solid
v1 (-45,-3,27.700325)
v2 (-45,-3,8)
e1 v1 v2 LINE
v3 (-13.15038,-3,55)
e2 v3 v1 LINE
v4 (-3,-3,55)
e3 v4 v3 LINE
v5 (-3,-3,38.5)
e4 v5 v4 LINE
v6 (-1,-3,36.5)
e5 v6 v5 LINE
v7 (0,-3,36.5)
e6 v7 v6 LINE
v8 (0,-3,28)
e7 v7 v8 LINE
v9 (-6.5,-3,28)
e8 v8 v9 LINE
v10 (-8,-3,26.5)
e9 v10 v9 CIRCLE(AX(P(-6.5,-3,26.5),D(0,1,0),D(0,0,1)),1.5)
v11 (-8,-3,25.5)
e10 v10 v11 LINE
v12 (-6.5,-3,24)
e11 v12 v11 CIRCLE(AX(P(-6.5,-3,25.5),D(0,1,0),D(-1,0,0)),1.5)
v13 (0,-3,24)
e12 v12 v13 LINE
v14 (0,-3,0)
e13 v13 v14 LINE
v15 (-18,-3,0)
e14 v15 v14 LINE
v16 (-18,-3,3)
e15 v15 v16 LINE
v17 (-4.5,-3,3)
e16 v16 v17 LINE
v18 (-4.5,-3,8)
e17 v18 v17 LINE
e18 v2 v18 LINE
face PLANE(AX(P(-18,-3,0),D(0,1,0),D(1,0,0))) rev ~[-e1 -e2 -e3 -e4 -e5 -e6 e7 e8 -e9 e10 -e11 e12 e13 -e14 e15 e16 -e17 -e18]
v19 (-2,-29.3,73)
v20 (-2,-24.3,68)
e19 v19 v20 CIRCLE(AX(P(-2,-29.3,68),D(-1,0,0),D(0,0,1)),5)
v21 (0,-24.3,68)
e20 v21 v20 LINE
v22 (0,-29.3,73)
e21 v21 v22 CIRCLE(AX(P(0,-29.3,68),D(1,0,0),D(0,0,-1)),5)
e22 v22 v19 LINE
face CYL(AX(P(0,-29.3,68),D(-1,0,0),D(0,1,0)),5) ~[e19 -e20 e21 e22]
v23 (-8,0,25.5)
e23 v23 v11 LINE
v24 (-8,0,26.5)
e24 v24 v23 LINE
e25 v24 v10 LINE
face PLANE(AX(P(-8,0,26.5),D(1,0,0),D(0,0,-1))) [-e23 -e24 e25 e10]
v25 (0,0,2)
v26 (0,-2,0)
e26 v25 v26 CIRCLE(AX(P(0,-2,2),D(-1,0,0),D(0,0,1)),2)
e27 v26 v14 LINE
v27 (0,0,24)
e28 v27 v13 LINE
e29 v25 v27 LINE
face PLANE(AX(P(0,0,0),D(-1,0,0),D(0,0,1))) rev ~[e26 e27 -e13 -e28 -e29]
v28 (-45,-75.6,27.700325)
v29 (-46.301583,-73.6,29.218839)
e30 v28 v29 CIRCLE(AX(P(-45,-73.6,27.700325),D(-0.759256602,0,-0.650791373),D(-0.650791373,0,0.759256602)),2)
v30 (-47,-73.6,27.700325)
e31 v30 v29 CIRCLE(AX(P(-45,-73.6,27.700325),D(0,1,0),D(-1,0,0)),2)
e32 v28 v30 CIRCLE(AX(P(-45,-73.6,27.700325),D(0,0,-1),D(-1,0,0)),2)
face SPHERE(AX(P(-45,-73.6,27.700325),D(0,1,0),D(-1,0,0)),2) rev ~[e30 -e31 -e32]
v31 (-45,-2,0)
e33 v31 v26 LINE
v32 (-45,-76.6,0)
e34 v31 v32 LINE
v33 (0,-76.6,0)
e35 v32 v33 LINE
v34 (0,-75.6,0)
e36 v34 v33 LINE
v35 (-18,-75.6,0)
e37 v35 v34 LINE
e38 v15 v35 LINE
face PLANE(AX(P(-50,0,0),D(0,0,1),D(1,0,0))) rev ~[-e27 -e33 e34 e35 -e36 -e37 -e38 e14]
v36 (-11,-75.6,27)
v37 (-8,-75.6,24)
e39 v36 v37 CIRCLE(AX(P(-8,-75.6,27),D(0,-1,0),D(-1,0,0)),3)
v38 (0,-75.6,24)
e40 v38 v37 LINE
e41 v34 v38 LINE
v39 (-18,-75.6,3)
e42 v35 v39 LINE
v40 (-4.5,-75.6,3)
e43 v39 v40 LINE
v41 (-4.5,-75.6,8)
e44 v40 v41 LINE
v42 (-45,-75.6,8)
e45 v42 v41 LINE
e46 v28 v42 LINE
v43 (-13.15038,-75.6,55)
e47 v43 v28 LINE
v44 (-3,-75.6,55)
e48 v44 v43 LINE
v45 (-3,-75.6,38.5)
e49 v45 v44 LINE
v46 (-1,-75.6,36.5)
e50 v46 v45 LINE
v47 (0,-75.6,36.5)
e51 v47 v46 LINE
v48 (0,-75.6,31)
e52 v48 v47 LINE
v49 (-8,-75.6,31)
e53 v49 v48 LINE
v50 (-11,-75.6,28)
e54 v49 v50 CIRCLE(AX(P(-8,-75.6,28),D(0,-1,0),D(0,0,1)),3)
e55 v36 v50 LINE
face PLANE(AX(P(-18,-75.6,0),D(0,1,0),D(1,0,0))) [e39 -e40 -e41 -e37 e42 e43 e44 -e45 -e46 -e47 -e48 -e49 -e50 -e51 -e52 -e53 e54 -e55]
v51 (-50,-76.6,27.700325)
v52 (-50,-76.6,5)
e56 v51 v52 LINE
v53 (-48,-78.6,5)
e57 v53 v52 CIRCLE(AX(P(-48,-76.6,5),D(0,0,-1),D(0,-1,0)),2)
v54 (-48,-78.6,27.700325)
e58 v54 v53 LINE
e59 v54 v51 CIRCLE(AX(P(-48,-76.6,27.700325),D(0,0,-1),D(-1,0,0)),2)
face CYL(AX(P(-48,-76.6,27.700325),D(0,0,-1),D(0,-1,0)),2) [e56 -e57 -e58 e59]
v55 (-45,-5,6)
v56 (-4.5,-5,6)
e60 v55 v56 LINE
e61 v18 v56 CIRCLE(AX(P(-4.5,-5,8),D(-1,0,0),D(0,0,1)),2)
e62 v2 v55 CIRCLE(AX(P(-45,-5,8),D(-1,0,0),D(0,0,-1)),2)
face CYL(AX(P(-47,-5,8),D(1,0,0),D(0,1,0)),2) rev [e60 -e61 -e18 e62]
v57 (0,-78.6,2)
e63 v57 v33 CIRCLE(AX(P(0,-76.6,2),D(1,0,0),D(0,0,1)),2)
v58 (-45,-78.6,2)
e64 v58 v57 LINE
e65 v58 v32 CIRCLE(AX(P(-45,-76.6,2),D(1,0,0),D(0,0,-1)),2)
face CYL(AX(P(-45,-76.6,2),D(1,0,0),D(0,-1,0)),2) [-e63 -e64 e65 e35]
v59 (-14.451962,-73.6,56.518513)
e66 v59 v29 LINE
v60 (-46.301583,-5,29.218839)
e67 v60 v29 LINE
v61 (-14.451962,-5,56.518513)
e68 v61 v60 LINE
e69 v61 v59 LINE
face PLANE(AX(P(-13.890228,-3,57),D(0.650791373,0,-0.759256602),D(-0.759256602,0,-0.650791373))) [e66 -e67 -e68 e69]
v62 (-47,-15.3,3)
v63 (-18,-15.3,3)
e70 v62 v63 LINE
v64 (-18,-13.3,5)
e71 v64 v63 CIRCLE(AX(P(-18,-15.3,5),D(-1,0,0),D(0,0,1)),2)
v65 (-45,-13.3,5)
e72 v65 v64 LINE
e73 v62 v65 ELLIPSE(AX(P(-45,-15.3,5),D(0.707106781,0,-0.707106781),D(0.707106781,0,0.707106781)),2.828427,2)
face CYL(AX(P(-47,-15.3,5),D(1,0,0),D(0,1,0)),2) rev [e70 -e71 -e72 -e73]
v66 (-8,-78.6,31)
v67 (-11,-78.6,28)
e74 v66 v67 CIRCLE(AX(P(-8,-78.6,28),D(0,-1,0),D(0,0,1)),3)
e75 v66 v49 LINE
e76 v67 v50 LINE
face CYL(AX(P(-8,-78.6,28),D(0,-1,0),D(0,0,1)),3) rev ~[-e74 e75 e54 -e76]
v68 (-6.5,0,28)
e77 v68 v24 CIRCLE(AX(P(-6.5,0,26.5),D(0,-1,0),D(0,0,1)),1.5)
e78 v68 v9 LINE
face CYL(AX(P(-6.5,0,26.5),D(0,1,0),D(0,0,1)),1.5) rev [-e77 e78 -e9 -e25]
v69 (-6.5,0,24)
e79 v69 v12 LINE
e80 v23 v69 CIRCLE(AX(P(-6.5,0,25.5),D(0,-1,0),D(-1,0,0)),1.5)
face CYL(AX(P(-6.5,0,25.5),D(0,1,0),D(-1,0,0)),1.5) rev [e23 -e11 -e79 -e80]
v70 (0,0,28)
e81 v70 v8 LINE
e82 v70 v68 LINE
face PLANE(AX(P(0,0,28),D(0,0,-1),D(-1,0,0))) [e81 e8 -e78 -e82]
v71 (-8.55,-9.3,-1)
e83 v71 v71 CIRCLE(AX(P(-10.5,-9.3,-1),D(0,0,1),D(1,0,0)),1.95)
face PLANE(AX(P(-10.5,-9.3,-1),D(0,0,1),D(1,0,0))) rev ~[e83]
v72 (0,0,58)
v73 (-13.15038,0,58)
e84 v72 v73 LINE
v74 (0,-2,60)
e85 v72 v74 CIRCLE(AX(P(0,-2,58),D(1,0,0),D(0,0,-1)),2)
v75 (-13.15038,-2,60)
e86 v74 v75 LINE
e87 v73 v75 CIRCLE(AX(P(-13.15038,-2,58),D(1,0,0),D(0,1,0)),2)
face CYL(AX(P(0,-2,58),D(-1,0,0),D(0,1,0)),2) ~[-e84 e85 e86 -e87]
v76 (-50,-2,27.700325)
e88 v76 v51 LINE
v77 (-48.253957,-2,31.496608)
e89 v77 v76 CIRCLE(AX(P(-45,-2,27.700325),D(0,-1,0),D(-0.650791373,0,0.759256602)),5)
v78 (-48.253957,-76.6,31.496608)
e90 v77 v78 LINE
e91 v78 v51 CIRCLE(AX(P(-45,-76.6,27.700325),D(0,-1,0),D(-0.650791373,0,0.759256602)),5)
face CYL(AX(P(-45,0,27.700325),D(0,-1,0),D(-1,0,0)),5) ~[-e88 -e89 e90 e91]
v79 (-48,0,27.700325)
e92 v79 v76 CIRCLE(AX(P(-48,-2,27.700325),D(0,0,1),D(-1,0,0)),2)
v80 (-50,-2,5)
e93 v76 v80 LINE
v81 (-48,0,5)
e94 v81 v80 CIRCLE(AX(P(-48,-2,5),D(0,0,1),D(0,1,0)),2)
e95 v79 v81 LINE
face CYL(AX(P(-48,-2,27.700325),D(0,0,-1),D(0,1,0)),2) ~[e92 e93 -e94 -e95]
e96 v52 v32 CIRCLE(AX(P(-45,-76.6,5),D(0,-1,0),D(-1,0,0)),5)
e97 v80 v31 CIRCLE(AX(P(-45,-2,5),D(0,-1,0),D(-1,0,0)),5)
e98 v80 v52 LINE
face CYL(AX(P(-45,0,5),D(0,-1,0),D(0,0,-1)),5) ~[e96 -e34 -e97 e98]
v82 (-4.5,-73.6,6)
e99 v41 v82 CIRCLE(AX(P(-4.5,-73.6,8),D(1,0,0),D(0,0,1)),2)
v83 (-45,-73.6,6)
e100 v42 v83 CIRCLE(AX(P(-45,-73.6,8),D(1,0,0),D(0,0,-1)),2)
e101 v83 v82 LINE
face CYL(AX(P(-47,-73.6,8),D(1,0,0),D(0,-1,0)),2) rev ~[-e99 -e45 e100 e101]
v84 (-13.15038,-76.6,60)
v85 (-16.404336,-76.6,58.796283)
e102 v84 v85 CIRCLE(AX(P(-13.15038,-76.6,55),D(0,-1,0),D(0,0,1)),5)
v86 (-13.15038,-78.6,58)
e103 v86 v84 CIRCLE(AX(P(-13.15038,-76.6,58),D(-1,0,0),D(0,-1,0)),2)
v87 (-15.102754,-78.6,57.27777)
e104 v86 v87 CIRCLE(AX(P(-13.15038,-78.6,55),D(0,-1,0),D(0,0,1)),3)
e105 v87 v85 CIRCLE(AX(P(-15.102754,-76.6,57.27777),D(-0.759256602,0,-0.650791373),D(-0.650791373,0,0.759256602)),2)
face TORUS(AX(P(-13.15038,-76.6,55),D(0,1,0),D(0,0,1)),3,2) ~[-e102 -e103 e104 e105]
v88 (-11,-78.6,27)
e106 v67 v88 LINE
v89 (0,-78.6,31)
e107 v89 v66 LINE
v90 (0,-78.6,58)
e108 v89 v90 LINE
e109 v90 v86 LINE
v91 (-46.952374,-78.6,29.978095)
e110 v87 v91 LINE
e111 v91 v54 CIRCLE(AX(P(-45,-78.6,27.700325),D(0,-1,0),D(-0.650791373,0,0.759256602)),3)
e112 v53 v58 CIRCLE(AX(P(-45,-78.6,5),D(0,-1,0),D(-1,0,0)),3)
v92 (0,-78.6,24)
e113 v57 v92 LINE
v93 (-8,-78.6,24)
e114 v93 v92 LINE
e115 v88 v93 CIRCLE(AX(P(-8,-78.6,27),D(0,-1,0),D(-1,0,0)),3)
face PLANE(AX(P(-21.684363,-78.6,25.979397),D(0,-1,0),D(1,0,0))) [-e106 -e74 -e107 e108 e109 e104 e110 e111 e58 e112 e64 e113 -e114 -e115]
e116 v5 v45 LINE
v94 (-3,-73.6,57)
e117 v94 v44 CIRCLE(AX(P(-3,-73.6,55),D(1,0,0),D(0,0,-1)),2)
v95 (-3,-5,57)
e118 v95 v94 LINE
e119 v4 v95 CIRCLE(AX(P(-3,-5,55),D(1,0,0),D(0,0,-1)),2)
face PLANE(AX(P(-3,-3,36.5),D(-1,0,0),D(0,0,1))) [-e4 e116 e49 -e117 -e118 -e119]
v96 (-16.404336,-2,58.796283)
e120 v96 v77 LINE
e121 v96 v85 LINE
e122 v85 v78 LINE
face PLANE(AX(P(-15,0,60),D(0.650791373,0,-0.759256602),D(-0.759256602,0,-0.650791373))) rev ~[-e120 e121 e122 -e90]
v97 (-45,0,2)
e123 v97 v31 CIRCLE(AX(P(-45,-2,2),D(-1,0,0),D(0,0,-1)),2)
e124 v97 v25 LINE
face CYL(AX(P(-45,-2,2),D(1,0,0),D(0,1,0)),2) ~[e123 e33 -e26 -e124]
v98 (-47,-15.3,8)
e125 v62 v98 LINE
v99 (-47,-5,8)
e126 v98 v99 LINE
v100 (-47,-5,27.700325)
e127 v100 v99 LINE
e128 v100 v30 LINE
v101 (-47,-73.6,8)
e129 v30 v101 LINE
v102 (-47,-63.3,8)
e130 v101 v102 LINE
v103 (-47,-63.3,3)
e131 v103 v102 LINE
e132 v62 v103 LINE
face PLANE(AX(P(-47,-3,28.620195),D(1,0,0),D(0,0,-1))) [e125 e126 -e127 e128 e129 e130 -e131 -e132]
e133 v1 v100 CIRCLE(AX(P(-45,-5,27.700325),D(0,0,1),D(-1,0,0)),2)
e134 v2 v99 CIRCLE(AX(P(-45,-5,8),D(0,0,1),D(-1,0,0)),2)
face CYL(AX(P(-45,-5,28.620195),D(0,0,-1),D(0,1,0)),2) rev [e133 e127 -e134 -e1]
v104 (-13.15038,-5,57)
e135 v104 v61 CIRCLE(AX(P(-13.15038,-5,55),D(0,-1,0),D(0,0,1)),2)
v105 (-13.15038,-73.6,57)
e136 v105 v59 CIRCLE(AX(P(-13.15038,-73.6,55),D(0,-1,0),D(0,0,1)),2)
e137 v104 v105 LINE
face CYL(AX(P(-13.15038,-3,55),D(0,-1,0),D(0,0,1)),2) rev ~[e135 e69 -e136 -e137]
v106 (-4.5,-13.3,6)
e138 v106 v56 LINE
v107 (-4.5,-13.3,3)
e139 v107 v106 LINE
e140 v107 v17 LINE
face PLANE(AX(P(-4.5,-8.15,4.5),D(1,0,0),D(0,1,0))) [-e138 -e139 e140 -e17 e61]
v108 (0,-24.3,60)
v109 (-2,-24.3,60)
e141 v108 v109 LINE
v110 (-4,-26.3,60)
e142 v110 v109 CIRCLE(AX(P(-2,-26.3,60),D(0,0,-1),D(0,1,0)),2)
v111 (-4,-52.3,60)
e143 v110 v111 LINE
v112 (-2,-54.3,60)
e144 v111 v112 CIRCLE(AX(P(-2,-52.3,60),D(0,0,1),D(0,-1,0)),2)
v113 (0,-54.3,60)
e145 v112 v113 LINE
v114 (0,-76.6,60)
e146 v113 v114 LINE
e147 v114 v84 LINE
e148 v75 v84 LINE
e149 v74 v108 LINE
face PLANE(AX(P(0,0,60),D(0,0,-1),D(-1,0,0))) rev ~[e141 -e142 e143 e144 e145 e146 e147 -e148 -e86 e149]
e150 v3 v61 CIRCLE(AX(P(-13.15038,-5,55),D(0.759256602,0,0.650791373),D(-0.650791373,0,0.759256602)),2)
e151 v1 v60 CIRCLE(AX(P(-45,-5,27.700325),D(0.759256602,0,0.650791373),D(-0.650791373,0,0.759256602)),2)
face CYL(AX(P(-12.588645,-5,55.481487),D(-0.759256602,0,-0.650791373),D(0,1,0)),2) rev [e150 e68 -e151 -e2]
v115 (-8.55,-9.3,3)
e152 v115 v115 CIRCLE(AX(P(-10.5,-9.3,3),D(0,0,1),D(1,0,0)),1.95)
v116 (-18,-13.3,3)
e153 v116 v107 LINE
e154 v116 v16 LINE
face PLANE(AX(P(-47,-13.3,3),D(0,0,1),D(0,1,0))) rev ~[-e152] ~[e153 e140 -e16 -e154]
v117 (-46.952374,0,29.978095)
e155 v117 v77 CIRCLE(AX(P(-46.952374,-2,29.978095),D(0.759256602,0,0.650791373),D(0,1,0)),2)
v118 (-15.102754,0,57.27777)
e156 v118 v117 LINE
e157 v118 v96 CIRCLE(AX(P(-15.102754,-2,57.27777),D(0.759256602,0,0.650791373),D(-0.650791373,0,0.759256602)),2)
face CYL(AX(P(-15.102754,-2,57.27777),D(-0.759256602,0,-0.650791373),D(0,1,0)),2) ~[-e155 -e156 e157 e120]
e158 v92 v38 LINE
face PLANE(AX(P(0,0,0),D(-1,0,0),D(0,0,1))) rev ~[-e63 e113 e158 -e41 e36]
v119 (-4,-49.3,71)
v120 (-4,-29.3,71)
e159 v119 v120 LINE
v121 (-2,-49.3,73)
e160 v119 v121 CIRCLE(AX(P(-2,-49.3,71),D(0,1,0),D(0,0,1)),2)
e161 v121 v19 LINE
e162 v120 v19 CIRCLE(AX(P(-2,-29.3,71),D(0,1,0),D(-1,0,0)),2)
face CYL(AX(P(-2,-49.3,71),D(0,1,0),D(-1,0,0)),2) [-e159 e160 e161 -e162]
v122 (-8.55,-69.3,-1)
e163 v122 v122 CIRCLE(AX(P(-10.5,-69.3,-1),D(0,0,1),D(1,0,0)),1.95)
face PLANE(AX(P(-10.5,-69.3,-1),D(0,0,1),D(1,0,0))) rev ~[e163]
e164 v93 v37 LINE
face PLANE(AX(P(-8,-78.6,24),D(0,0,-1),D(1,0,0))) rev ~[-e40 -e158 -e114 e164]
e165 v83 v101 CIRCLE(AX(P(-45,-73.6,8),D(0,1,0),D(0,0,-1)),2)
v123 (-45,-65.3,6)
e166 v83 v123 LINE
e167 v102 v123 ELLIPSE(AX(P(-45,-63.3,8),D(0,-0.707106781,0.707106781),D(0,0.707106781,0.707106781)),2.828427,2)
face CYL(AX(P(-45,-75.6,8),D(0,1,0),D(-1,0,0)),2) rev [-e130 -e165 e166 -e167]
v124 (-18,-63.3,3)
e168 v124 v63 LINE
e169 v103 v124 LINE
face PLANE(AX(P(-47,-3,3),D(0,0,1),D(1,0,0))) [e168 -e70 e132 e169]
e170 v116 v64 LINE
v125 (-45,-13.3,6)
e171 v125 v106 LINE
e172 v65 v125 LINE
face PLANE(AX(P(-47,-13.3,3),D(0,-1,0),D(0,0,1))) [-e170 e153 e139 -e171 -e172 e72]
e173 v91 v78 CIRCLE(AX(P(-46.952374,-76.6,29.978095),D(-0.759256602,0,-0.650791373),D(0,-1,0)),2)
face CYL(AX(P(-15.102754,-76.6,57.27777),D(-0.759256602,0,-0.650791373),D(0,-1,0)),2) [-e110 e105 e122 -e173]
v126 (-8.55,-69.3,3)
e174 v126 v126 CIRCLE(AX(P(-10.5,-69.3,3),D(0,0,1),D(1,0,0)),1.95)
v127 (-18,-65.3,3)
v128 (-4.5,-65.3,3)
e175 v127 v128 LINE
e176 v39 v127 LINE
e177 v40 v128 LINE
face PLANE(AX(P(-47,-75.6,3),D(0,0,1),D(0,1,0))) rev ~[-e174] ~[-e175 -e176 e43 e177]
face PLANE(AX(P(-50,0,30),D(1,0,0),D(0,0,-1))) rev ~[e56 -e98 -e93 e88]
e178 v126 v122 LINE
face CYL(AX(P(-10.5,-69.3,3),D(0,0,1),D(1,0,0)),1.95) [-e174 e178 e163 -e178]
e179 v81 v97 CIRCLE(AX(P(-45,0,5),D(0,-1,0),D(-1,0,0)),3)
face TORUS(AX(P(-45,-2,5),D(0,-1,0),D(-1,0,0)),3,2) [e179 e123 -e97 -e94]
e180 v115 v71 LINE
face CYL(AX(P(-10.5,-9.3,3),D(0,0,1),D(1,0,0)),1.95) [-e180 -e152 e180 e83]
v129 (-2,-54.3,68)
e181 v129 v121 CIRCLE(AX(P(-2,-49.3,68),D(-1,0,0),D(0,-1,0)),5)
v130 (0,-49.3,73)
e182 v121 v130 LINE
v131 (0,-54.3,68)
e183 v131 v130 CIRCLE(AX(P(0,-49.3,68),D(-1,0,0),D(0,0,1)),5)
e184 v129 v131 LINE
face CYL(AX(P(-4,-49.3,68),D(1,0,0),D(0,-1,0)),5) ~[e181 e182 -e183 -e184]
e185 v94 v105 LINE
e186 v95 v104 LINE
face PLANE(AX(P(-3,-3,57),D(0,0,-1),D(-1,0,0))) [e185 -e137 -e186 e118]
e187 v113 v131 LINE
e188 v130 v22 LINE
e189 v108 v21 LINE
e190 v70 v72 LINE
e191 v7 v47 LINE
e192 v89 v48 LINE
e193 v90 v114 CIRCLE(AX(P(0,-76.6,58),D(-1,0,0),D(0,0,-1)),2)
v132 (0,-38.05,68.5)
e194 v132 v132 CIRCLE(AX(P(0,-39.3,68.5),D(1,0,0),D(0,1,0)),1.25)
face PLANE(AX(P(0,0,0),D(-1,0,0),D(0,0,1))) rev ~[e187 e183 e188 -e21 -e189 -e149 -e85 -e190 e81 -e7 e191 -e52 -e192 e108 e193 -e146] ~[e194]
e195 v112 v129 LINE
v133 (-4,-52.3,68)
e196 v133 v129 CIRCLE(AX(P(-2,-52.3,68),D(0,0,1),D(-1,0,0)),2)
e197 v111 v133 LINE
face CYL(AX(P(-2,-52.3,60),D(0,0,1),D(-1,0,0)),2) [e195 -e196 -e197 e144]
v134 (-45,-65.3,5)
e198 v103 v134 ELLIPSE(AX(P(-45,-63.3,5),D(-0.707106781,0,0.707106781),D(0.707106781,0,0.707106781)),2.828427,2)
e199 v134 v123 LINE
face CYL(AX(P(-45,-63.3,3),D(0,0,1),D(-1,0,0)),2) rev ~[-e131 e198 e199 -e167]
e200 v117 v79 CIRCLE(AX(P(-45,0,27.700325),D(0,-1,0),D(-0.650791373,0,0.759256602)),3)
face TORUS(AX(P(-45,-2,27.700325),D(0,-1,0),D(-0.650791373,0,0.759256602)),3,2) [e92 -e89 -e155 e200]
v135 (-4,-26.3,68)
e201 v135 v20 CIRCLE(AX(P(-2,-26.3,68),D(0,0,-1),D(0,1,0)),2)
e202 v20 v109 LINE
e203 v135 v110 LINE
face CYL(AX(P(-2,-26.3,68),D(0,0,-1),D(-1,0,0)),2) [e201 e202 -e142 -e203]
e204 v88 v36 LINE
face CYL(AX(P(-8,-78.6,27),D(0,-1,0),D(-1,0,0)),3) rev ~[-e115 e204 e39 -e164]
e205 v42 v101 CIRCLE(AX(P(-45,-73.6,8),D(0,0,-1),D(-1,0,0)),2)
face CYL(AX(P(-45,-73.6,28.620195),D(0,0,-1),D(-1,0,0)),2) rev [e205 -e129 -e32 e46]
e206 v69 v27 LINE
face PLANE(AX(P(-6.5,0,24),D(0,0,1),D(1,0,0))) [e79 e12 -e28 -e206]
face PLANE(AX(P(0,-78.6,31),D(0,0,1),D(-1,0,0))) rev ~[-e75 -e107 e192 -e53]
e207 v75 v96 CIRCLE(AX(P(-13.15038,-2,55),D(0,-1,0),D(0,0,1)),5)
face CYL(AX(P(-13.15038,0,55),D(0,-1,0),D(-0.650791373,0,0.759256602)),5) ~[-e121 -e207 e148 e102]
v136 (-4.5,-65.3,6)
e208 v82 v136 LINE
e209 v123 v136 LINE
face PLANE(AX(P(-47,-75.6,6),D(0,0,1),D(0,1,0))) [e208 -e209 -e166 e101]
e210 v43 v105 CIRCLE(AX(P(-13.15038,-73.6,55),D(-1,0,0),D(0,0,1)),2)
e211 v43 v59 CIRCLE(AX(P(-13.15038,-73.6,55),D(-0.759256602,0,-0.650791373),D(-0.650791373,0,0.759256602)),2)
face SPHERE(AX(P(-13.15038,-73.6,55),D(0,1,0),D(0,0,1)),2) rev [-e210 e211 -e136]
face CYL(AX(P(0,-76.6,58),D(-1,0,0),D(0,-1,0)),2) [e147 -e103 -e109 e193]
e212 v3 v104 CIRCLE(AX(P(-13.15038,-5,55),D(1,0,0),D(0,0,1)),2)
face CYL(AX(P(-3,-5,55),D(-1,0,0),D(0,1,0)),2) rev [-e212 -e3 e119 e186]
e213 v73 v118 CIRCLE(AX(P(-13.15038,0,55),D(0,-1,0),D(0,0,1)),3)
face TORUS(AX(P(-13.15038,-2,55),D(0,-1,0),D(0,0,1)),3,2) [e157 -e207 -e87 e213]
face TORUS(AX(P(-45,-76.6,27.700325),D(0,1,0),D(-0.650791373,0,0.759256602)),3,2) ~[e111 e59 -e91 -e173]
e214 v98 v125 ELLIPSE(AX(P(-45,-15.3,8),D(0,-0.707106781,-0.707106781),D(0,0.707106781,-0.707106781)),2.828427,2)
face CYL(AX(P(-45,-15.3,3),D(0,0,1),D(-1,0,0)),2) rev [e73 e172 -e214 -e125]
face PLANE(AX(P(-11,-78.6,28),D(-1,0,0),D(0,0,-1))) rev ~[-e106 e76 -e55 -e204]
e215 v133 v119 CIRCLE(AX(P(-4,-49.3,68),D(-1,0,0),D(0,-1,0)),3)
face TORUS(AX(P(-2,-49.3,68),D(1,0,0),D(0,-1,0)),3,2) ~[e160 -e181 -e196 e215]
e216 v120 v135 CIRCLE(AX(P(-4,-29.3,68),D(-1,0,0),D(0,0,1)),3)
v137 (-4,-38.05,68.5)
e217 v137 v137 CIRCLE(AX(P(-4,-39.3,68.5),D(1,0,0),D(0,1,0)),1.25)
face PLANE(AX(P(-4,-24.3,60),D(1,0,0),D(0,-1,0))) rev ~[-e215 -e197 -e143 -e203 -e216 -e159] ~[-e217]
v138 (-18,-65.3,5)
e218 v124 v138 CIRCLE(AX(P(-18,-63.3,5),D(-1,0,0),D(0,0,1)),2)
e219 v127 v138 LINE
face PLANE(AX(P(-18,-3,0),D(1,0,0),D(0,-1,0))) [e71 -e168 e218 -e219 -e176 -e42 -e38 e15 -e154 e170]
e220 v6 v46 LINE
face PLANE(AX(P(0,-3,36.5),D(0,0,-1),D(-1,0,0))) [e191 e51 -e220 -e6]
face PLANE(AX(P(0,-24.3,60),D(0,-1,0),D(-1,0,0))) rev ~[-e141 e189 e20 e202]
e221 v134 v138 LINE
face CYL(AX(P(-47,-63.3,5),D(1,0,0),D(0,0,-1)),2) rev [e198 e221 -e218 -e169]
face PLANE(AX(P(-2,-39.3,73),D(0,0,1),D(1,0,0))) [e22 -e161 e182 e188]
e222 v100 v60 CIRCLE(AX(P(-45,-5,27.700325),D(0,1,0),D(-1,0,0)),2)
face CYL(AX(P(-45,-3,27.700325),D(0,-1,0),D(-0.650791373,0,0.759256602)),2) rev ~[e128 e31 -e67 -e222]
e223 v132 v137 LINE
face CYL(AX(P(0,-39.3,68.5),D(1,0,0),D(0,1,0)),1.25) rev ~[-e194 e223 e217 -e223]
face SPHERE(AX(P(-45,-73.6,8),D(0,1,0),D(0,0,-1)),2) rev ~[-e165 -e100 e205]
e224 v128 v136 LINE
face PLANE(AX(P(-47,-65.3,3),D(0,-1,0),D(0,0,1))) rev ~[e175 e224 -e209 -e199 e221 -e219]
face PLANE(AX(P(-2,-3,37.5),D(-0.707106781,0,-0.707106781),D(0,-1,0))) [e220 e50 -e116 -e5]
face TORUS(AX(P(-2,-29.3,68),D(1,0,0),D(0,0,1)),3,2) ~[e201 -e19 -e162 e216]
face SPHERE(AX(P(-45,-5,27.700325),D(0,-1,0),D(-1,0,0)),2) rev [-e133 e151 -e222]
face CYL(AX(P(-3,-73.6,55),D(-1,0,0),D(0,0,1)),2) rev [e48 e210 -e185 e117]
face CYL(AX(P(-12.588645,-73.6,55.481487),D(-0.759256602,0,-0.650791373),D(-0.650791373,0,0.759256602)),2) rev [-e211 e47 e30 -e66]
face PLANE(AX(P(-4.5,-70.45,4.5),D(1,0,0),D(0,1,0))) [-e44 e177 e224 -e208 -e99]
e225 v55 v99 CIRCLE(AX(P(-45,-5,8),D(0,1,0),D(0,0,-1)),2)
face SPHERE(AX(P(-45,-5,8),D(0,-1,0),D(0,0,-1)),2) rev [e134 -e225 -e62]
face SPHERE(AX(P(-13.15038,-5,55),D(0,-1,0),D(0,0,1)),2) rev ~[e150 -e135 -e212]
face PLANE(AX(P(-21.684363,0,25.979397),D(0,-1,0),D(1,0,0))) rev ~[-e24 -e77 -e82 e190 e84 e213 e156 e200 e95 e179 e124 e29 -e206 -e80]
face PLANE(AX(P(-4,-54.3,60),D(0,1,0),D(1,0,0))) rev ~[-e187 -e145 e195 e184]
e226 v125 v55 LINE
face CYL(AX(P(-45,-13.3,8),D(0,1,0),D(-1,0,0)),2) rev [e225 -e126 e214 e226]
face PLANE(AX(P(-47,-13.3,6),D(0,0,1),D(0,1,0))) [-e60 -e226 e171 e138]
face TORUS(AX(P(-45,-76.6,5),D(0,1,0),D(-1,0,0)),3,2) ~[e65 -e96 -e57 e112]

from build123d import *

# Parameters (mm, degrees)
F1_DEPTH  = 78.6
F4_DEPTH  = 72.6
F5_W      = 18
F5_H      = 72.6
F6_DEPTH  = 5
F8_DEPTH  = 5
F10_DEPTH = 5
F12_DEPTH = 13
F13_R     = 5
F14_R     = 2
F15_R     = 1.25
F16_DEPTH = 25
F17_W     = 10.3
F17_H     = 3
F18_DEPTH = 42.5
F20_R     = 1.95
F21_DEPTH = 4
F22_SIZE  = 2
F23_R     = 2


with BuildPart() as f1:
    # F0 (on Front) → F1 (new body)
    with BuildSketch(Plane.XZ):
        Polygon((-50, 0), (0, 0), (0, 60), (-15, 60), (-50, 30), align=None)
    extrude(amount=F1_DEPTH)

    # F3 (on offset) → F4 (cut)
    with BuildSketch(Plane.XZ.offset(3)):
        Polygon((-47, 3), (0, 3), (0, 36.5), (-3, 36.5), (-3, 57), (-13.8902277714, 57), (-47, 28.6201952326), align=None)
    extrude(amount=F4_DEPTH, mode=Mode.SUBTRACT)

    # F5 (on face) → F6 (cut)
    with BuildSketch(Plane(origin=(0, 0, 0), x_dir=(1, 0, 0), z_dir=(0, 0, -1))):
        with Locations((-9, 39.3)):
            Rectangle(F5_W, F5_H)
    extrude(amount=-F6_DEPTH, mode=Mode.SUBTRACT)

    # F7 (on Front) → F8 (cut)
    with BuildSketch(Plane.XZ):
        with BuildLine():
            Line((-6.5, 24), (0, 24))
            Line((0, 24), (0, 28))
            Line((0, 28), (-6.5, 28))
            ThreePointArc((-6.5, 28), (-7.5606601718, 27.5606601718), (-8, 26.5))
            Line((-8, 26.5), (-8, 25.5))
            ThreePointArc((-8, 25.5), (-7.5606601718, 24.4393398282), (-6.5, 24))
        make_face()
    extrude(amount=F8_DEPTH, mode=Mode.SUBTRACT)

    # F9 (on face) → F10 (cut)
    with BuildSketch(Plane.XZ.offset(78.6)):
        with BuildLine():
            Line((-8, 24), (0, 24))
            Line((0, 24), (0, 31))
            Line((0, 31), (-8, 31))
            ThreePointArc((-8, 31), (-10.1213203436, 30.1213203436), (-11, 28))
            Line((-11, 28), (-11, 27))
            ThreePointArc((-11, 27), (-10.1213203436, 24.8786796564), (-8, 24))
        make_face()
    extrude(amount=-F10_DEPTH, mode=Mode.SUBTRACT)

    # F11 (on face) → F12 (join)
    with BuildSketch(Plane.XY.offset(60)):
        Polygon((-4, -24.3), (-4, -39.3), (-4, -54.3), (0, -54.3), (0, -39.3), (0, -24.3), align=None)
    extrude(amount=F12_DEPTH)

    # F13
    f13_edges = [f1.edges().sort_by_distance(p)[0] for p in [
        (-2, -54.3, 73),
        (-2, -24.3, 73),
        (-15, -39.3, 60),
        (-50, -39.3, 30),
        (-50, -39.3, 0),
    ]]
    fillet(f13_edges, radius=F13_R)

    # F14
    f14_edges = [f1.edges().sort_by_distance(p)[0] for p in [
        (-4, -54.3, 64),
        (-32.329147, 0, 45.146446),
        (-32.329147, -78.6, 45.146446),
    ]]
    fillet(f14_edges, radius=F14_R)

    # F15 (on face) → F16 (cut)
    with BuildSketch(Plane.YZ):
        with Locations((-39.3, 68.5)):
            Circle(F15_R)
    extrude(amount=-F16_DEPTH, mode=Mode.SUBTRACT)

    # F17 (on face) → F18 (join)
    with BuildSketch(Plane.YZ.offset(-47)):
        with Locations((-8.15, 4.5)):
            Rectangle(F17_W, F17_H)
        with Locations((-70.45, 4.5)):
            Rectangle(F17_W, F17_H)
    extrude(amount=F18_DEPTH)

    # F20 (on offset) → F21 (join)
    with BuildSketch(Plane.XY.offset(3)):
        with Locations((-10.5, -9.3)):
            Circle(F20_R)
        with Locations((-10.5, -69.3)):
            Circle(F20_R)
    extrude(amount=-F21_DEPTH)

    # F22
    f22_edges = [f1.edges().sort_by_distance(p)[0] for p in [
        (-3, -39.3, 36.5),
    ]]
    chamfer(f22_edges, length=F22_SIZE)

    # F23
    f23_edges = [f1.edges().sort_by_distance(p)[0] for p in [
        (-47, -8.15, 6),
        (-47, -13.3, 4.5),
        (-32.5, -13.3, 3),
        (-47, -70.45, 6),
        (-47, -65.3, 4.5),
        (-32.5, -65.3, 3),
        (-25.75, -75.6, 6),
        (-25.75, -3, 6),
        (-47, -3, 17.310098),
        (-30.445114, -3, 42.810098),
        (-47, -39.3, 28.620195),
        (-47, -75.6, 17.310098),
        (-30.445114, -75.6, 42.810098),
        (-13.890228, -39.3, 57),
        (-8.445114, -3, 57),
        (-8.445114, -75.6, 57),
    ]]
    fillet(f23_edges, radius=F23_R)


solid = f1.part
